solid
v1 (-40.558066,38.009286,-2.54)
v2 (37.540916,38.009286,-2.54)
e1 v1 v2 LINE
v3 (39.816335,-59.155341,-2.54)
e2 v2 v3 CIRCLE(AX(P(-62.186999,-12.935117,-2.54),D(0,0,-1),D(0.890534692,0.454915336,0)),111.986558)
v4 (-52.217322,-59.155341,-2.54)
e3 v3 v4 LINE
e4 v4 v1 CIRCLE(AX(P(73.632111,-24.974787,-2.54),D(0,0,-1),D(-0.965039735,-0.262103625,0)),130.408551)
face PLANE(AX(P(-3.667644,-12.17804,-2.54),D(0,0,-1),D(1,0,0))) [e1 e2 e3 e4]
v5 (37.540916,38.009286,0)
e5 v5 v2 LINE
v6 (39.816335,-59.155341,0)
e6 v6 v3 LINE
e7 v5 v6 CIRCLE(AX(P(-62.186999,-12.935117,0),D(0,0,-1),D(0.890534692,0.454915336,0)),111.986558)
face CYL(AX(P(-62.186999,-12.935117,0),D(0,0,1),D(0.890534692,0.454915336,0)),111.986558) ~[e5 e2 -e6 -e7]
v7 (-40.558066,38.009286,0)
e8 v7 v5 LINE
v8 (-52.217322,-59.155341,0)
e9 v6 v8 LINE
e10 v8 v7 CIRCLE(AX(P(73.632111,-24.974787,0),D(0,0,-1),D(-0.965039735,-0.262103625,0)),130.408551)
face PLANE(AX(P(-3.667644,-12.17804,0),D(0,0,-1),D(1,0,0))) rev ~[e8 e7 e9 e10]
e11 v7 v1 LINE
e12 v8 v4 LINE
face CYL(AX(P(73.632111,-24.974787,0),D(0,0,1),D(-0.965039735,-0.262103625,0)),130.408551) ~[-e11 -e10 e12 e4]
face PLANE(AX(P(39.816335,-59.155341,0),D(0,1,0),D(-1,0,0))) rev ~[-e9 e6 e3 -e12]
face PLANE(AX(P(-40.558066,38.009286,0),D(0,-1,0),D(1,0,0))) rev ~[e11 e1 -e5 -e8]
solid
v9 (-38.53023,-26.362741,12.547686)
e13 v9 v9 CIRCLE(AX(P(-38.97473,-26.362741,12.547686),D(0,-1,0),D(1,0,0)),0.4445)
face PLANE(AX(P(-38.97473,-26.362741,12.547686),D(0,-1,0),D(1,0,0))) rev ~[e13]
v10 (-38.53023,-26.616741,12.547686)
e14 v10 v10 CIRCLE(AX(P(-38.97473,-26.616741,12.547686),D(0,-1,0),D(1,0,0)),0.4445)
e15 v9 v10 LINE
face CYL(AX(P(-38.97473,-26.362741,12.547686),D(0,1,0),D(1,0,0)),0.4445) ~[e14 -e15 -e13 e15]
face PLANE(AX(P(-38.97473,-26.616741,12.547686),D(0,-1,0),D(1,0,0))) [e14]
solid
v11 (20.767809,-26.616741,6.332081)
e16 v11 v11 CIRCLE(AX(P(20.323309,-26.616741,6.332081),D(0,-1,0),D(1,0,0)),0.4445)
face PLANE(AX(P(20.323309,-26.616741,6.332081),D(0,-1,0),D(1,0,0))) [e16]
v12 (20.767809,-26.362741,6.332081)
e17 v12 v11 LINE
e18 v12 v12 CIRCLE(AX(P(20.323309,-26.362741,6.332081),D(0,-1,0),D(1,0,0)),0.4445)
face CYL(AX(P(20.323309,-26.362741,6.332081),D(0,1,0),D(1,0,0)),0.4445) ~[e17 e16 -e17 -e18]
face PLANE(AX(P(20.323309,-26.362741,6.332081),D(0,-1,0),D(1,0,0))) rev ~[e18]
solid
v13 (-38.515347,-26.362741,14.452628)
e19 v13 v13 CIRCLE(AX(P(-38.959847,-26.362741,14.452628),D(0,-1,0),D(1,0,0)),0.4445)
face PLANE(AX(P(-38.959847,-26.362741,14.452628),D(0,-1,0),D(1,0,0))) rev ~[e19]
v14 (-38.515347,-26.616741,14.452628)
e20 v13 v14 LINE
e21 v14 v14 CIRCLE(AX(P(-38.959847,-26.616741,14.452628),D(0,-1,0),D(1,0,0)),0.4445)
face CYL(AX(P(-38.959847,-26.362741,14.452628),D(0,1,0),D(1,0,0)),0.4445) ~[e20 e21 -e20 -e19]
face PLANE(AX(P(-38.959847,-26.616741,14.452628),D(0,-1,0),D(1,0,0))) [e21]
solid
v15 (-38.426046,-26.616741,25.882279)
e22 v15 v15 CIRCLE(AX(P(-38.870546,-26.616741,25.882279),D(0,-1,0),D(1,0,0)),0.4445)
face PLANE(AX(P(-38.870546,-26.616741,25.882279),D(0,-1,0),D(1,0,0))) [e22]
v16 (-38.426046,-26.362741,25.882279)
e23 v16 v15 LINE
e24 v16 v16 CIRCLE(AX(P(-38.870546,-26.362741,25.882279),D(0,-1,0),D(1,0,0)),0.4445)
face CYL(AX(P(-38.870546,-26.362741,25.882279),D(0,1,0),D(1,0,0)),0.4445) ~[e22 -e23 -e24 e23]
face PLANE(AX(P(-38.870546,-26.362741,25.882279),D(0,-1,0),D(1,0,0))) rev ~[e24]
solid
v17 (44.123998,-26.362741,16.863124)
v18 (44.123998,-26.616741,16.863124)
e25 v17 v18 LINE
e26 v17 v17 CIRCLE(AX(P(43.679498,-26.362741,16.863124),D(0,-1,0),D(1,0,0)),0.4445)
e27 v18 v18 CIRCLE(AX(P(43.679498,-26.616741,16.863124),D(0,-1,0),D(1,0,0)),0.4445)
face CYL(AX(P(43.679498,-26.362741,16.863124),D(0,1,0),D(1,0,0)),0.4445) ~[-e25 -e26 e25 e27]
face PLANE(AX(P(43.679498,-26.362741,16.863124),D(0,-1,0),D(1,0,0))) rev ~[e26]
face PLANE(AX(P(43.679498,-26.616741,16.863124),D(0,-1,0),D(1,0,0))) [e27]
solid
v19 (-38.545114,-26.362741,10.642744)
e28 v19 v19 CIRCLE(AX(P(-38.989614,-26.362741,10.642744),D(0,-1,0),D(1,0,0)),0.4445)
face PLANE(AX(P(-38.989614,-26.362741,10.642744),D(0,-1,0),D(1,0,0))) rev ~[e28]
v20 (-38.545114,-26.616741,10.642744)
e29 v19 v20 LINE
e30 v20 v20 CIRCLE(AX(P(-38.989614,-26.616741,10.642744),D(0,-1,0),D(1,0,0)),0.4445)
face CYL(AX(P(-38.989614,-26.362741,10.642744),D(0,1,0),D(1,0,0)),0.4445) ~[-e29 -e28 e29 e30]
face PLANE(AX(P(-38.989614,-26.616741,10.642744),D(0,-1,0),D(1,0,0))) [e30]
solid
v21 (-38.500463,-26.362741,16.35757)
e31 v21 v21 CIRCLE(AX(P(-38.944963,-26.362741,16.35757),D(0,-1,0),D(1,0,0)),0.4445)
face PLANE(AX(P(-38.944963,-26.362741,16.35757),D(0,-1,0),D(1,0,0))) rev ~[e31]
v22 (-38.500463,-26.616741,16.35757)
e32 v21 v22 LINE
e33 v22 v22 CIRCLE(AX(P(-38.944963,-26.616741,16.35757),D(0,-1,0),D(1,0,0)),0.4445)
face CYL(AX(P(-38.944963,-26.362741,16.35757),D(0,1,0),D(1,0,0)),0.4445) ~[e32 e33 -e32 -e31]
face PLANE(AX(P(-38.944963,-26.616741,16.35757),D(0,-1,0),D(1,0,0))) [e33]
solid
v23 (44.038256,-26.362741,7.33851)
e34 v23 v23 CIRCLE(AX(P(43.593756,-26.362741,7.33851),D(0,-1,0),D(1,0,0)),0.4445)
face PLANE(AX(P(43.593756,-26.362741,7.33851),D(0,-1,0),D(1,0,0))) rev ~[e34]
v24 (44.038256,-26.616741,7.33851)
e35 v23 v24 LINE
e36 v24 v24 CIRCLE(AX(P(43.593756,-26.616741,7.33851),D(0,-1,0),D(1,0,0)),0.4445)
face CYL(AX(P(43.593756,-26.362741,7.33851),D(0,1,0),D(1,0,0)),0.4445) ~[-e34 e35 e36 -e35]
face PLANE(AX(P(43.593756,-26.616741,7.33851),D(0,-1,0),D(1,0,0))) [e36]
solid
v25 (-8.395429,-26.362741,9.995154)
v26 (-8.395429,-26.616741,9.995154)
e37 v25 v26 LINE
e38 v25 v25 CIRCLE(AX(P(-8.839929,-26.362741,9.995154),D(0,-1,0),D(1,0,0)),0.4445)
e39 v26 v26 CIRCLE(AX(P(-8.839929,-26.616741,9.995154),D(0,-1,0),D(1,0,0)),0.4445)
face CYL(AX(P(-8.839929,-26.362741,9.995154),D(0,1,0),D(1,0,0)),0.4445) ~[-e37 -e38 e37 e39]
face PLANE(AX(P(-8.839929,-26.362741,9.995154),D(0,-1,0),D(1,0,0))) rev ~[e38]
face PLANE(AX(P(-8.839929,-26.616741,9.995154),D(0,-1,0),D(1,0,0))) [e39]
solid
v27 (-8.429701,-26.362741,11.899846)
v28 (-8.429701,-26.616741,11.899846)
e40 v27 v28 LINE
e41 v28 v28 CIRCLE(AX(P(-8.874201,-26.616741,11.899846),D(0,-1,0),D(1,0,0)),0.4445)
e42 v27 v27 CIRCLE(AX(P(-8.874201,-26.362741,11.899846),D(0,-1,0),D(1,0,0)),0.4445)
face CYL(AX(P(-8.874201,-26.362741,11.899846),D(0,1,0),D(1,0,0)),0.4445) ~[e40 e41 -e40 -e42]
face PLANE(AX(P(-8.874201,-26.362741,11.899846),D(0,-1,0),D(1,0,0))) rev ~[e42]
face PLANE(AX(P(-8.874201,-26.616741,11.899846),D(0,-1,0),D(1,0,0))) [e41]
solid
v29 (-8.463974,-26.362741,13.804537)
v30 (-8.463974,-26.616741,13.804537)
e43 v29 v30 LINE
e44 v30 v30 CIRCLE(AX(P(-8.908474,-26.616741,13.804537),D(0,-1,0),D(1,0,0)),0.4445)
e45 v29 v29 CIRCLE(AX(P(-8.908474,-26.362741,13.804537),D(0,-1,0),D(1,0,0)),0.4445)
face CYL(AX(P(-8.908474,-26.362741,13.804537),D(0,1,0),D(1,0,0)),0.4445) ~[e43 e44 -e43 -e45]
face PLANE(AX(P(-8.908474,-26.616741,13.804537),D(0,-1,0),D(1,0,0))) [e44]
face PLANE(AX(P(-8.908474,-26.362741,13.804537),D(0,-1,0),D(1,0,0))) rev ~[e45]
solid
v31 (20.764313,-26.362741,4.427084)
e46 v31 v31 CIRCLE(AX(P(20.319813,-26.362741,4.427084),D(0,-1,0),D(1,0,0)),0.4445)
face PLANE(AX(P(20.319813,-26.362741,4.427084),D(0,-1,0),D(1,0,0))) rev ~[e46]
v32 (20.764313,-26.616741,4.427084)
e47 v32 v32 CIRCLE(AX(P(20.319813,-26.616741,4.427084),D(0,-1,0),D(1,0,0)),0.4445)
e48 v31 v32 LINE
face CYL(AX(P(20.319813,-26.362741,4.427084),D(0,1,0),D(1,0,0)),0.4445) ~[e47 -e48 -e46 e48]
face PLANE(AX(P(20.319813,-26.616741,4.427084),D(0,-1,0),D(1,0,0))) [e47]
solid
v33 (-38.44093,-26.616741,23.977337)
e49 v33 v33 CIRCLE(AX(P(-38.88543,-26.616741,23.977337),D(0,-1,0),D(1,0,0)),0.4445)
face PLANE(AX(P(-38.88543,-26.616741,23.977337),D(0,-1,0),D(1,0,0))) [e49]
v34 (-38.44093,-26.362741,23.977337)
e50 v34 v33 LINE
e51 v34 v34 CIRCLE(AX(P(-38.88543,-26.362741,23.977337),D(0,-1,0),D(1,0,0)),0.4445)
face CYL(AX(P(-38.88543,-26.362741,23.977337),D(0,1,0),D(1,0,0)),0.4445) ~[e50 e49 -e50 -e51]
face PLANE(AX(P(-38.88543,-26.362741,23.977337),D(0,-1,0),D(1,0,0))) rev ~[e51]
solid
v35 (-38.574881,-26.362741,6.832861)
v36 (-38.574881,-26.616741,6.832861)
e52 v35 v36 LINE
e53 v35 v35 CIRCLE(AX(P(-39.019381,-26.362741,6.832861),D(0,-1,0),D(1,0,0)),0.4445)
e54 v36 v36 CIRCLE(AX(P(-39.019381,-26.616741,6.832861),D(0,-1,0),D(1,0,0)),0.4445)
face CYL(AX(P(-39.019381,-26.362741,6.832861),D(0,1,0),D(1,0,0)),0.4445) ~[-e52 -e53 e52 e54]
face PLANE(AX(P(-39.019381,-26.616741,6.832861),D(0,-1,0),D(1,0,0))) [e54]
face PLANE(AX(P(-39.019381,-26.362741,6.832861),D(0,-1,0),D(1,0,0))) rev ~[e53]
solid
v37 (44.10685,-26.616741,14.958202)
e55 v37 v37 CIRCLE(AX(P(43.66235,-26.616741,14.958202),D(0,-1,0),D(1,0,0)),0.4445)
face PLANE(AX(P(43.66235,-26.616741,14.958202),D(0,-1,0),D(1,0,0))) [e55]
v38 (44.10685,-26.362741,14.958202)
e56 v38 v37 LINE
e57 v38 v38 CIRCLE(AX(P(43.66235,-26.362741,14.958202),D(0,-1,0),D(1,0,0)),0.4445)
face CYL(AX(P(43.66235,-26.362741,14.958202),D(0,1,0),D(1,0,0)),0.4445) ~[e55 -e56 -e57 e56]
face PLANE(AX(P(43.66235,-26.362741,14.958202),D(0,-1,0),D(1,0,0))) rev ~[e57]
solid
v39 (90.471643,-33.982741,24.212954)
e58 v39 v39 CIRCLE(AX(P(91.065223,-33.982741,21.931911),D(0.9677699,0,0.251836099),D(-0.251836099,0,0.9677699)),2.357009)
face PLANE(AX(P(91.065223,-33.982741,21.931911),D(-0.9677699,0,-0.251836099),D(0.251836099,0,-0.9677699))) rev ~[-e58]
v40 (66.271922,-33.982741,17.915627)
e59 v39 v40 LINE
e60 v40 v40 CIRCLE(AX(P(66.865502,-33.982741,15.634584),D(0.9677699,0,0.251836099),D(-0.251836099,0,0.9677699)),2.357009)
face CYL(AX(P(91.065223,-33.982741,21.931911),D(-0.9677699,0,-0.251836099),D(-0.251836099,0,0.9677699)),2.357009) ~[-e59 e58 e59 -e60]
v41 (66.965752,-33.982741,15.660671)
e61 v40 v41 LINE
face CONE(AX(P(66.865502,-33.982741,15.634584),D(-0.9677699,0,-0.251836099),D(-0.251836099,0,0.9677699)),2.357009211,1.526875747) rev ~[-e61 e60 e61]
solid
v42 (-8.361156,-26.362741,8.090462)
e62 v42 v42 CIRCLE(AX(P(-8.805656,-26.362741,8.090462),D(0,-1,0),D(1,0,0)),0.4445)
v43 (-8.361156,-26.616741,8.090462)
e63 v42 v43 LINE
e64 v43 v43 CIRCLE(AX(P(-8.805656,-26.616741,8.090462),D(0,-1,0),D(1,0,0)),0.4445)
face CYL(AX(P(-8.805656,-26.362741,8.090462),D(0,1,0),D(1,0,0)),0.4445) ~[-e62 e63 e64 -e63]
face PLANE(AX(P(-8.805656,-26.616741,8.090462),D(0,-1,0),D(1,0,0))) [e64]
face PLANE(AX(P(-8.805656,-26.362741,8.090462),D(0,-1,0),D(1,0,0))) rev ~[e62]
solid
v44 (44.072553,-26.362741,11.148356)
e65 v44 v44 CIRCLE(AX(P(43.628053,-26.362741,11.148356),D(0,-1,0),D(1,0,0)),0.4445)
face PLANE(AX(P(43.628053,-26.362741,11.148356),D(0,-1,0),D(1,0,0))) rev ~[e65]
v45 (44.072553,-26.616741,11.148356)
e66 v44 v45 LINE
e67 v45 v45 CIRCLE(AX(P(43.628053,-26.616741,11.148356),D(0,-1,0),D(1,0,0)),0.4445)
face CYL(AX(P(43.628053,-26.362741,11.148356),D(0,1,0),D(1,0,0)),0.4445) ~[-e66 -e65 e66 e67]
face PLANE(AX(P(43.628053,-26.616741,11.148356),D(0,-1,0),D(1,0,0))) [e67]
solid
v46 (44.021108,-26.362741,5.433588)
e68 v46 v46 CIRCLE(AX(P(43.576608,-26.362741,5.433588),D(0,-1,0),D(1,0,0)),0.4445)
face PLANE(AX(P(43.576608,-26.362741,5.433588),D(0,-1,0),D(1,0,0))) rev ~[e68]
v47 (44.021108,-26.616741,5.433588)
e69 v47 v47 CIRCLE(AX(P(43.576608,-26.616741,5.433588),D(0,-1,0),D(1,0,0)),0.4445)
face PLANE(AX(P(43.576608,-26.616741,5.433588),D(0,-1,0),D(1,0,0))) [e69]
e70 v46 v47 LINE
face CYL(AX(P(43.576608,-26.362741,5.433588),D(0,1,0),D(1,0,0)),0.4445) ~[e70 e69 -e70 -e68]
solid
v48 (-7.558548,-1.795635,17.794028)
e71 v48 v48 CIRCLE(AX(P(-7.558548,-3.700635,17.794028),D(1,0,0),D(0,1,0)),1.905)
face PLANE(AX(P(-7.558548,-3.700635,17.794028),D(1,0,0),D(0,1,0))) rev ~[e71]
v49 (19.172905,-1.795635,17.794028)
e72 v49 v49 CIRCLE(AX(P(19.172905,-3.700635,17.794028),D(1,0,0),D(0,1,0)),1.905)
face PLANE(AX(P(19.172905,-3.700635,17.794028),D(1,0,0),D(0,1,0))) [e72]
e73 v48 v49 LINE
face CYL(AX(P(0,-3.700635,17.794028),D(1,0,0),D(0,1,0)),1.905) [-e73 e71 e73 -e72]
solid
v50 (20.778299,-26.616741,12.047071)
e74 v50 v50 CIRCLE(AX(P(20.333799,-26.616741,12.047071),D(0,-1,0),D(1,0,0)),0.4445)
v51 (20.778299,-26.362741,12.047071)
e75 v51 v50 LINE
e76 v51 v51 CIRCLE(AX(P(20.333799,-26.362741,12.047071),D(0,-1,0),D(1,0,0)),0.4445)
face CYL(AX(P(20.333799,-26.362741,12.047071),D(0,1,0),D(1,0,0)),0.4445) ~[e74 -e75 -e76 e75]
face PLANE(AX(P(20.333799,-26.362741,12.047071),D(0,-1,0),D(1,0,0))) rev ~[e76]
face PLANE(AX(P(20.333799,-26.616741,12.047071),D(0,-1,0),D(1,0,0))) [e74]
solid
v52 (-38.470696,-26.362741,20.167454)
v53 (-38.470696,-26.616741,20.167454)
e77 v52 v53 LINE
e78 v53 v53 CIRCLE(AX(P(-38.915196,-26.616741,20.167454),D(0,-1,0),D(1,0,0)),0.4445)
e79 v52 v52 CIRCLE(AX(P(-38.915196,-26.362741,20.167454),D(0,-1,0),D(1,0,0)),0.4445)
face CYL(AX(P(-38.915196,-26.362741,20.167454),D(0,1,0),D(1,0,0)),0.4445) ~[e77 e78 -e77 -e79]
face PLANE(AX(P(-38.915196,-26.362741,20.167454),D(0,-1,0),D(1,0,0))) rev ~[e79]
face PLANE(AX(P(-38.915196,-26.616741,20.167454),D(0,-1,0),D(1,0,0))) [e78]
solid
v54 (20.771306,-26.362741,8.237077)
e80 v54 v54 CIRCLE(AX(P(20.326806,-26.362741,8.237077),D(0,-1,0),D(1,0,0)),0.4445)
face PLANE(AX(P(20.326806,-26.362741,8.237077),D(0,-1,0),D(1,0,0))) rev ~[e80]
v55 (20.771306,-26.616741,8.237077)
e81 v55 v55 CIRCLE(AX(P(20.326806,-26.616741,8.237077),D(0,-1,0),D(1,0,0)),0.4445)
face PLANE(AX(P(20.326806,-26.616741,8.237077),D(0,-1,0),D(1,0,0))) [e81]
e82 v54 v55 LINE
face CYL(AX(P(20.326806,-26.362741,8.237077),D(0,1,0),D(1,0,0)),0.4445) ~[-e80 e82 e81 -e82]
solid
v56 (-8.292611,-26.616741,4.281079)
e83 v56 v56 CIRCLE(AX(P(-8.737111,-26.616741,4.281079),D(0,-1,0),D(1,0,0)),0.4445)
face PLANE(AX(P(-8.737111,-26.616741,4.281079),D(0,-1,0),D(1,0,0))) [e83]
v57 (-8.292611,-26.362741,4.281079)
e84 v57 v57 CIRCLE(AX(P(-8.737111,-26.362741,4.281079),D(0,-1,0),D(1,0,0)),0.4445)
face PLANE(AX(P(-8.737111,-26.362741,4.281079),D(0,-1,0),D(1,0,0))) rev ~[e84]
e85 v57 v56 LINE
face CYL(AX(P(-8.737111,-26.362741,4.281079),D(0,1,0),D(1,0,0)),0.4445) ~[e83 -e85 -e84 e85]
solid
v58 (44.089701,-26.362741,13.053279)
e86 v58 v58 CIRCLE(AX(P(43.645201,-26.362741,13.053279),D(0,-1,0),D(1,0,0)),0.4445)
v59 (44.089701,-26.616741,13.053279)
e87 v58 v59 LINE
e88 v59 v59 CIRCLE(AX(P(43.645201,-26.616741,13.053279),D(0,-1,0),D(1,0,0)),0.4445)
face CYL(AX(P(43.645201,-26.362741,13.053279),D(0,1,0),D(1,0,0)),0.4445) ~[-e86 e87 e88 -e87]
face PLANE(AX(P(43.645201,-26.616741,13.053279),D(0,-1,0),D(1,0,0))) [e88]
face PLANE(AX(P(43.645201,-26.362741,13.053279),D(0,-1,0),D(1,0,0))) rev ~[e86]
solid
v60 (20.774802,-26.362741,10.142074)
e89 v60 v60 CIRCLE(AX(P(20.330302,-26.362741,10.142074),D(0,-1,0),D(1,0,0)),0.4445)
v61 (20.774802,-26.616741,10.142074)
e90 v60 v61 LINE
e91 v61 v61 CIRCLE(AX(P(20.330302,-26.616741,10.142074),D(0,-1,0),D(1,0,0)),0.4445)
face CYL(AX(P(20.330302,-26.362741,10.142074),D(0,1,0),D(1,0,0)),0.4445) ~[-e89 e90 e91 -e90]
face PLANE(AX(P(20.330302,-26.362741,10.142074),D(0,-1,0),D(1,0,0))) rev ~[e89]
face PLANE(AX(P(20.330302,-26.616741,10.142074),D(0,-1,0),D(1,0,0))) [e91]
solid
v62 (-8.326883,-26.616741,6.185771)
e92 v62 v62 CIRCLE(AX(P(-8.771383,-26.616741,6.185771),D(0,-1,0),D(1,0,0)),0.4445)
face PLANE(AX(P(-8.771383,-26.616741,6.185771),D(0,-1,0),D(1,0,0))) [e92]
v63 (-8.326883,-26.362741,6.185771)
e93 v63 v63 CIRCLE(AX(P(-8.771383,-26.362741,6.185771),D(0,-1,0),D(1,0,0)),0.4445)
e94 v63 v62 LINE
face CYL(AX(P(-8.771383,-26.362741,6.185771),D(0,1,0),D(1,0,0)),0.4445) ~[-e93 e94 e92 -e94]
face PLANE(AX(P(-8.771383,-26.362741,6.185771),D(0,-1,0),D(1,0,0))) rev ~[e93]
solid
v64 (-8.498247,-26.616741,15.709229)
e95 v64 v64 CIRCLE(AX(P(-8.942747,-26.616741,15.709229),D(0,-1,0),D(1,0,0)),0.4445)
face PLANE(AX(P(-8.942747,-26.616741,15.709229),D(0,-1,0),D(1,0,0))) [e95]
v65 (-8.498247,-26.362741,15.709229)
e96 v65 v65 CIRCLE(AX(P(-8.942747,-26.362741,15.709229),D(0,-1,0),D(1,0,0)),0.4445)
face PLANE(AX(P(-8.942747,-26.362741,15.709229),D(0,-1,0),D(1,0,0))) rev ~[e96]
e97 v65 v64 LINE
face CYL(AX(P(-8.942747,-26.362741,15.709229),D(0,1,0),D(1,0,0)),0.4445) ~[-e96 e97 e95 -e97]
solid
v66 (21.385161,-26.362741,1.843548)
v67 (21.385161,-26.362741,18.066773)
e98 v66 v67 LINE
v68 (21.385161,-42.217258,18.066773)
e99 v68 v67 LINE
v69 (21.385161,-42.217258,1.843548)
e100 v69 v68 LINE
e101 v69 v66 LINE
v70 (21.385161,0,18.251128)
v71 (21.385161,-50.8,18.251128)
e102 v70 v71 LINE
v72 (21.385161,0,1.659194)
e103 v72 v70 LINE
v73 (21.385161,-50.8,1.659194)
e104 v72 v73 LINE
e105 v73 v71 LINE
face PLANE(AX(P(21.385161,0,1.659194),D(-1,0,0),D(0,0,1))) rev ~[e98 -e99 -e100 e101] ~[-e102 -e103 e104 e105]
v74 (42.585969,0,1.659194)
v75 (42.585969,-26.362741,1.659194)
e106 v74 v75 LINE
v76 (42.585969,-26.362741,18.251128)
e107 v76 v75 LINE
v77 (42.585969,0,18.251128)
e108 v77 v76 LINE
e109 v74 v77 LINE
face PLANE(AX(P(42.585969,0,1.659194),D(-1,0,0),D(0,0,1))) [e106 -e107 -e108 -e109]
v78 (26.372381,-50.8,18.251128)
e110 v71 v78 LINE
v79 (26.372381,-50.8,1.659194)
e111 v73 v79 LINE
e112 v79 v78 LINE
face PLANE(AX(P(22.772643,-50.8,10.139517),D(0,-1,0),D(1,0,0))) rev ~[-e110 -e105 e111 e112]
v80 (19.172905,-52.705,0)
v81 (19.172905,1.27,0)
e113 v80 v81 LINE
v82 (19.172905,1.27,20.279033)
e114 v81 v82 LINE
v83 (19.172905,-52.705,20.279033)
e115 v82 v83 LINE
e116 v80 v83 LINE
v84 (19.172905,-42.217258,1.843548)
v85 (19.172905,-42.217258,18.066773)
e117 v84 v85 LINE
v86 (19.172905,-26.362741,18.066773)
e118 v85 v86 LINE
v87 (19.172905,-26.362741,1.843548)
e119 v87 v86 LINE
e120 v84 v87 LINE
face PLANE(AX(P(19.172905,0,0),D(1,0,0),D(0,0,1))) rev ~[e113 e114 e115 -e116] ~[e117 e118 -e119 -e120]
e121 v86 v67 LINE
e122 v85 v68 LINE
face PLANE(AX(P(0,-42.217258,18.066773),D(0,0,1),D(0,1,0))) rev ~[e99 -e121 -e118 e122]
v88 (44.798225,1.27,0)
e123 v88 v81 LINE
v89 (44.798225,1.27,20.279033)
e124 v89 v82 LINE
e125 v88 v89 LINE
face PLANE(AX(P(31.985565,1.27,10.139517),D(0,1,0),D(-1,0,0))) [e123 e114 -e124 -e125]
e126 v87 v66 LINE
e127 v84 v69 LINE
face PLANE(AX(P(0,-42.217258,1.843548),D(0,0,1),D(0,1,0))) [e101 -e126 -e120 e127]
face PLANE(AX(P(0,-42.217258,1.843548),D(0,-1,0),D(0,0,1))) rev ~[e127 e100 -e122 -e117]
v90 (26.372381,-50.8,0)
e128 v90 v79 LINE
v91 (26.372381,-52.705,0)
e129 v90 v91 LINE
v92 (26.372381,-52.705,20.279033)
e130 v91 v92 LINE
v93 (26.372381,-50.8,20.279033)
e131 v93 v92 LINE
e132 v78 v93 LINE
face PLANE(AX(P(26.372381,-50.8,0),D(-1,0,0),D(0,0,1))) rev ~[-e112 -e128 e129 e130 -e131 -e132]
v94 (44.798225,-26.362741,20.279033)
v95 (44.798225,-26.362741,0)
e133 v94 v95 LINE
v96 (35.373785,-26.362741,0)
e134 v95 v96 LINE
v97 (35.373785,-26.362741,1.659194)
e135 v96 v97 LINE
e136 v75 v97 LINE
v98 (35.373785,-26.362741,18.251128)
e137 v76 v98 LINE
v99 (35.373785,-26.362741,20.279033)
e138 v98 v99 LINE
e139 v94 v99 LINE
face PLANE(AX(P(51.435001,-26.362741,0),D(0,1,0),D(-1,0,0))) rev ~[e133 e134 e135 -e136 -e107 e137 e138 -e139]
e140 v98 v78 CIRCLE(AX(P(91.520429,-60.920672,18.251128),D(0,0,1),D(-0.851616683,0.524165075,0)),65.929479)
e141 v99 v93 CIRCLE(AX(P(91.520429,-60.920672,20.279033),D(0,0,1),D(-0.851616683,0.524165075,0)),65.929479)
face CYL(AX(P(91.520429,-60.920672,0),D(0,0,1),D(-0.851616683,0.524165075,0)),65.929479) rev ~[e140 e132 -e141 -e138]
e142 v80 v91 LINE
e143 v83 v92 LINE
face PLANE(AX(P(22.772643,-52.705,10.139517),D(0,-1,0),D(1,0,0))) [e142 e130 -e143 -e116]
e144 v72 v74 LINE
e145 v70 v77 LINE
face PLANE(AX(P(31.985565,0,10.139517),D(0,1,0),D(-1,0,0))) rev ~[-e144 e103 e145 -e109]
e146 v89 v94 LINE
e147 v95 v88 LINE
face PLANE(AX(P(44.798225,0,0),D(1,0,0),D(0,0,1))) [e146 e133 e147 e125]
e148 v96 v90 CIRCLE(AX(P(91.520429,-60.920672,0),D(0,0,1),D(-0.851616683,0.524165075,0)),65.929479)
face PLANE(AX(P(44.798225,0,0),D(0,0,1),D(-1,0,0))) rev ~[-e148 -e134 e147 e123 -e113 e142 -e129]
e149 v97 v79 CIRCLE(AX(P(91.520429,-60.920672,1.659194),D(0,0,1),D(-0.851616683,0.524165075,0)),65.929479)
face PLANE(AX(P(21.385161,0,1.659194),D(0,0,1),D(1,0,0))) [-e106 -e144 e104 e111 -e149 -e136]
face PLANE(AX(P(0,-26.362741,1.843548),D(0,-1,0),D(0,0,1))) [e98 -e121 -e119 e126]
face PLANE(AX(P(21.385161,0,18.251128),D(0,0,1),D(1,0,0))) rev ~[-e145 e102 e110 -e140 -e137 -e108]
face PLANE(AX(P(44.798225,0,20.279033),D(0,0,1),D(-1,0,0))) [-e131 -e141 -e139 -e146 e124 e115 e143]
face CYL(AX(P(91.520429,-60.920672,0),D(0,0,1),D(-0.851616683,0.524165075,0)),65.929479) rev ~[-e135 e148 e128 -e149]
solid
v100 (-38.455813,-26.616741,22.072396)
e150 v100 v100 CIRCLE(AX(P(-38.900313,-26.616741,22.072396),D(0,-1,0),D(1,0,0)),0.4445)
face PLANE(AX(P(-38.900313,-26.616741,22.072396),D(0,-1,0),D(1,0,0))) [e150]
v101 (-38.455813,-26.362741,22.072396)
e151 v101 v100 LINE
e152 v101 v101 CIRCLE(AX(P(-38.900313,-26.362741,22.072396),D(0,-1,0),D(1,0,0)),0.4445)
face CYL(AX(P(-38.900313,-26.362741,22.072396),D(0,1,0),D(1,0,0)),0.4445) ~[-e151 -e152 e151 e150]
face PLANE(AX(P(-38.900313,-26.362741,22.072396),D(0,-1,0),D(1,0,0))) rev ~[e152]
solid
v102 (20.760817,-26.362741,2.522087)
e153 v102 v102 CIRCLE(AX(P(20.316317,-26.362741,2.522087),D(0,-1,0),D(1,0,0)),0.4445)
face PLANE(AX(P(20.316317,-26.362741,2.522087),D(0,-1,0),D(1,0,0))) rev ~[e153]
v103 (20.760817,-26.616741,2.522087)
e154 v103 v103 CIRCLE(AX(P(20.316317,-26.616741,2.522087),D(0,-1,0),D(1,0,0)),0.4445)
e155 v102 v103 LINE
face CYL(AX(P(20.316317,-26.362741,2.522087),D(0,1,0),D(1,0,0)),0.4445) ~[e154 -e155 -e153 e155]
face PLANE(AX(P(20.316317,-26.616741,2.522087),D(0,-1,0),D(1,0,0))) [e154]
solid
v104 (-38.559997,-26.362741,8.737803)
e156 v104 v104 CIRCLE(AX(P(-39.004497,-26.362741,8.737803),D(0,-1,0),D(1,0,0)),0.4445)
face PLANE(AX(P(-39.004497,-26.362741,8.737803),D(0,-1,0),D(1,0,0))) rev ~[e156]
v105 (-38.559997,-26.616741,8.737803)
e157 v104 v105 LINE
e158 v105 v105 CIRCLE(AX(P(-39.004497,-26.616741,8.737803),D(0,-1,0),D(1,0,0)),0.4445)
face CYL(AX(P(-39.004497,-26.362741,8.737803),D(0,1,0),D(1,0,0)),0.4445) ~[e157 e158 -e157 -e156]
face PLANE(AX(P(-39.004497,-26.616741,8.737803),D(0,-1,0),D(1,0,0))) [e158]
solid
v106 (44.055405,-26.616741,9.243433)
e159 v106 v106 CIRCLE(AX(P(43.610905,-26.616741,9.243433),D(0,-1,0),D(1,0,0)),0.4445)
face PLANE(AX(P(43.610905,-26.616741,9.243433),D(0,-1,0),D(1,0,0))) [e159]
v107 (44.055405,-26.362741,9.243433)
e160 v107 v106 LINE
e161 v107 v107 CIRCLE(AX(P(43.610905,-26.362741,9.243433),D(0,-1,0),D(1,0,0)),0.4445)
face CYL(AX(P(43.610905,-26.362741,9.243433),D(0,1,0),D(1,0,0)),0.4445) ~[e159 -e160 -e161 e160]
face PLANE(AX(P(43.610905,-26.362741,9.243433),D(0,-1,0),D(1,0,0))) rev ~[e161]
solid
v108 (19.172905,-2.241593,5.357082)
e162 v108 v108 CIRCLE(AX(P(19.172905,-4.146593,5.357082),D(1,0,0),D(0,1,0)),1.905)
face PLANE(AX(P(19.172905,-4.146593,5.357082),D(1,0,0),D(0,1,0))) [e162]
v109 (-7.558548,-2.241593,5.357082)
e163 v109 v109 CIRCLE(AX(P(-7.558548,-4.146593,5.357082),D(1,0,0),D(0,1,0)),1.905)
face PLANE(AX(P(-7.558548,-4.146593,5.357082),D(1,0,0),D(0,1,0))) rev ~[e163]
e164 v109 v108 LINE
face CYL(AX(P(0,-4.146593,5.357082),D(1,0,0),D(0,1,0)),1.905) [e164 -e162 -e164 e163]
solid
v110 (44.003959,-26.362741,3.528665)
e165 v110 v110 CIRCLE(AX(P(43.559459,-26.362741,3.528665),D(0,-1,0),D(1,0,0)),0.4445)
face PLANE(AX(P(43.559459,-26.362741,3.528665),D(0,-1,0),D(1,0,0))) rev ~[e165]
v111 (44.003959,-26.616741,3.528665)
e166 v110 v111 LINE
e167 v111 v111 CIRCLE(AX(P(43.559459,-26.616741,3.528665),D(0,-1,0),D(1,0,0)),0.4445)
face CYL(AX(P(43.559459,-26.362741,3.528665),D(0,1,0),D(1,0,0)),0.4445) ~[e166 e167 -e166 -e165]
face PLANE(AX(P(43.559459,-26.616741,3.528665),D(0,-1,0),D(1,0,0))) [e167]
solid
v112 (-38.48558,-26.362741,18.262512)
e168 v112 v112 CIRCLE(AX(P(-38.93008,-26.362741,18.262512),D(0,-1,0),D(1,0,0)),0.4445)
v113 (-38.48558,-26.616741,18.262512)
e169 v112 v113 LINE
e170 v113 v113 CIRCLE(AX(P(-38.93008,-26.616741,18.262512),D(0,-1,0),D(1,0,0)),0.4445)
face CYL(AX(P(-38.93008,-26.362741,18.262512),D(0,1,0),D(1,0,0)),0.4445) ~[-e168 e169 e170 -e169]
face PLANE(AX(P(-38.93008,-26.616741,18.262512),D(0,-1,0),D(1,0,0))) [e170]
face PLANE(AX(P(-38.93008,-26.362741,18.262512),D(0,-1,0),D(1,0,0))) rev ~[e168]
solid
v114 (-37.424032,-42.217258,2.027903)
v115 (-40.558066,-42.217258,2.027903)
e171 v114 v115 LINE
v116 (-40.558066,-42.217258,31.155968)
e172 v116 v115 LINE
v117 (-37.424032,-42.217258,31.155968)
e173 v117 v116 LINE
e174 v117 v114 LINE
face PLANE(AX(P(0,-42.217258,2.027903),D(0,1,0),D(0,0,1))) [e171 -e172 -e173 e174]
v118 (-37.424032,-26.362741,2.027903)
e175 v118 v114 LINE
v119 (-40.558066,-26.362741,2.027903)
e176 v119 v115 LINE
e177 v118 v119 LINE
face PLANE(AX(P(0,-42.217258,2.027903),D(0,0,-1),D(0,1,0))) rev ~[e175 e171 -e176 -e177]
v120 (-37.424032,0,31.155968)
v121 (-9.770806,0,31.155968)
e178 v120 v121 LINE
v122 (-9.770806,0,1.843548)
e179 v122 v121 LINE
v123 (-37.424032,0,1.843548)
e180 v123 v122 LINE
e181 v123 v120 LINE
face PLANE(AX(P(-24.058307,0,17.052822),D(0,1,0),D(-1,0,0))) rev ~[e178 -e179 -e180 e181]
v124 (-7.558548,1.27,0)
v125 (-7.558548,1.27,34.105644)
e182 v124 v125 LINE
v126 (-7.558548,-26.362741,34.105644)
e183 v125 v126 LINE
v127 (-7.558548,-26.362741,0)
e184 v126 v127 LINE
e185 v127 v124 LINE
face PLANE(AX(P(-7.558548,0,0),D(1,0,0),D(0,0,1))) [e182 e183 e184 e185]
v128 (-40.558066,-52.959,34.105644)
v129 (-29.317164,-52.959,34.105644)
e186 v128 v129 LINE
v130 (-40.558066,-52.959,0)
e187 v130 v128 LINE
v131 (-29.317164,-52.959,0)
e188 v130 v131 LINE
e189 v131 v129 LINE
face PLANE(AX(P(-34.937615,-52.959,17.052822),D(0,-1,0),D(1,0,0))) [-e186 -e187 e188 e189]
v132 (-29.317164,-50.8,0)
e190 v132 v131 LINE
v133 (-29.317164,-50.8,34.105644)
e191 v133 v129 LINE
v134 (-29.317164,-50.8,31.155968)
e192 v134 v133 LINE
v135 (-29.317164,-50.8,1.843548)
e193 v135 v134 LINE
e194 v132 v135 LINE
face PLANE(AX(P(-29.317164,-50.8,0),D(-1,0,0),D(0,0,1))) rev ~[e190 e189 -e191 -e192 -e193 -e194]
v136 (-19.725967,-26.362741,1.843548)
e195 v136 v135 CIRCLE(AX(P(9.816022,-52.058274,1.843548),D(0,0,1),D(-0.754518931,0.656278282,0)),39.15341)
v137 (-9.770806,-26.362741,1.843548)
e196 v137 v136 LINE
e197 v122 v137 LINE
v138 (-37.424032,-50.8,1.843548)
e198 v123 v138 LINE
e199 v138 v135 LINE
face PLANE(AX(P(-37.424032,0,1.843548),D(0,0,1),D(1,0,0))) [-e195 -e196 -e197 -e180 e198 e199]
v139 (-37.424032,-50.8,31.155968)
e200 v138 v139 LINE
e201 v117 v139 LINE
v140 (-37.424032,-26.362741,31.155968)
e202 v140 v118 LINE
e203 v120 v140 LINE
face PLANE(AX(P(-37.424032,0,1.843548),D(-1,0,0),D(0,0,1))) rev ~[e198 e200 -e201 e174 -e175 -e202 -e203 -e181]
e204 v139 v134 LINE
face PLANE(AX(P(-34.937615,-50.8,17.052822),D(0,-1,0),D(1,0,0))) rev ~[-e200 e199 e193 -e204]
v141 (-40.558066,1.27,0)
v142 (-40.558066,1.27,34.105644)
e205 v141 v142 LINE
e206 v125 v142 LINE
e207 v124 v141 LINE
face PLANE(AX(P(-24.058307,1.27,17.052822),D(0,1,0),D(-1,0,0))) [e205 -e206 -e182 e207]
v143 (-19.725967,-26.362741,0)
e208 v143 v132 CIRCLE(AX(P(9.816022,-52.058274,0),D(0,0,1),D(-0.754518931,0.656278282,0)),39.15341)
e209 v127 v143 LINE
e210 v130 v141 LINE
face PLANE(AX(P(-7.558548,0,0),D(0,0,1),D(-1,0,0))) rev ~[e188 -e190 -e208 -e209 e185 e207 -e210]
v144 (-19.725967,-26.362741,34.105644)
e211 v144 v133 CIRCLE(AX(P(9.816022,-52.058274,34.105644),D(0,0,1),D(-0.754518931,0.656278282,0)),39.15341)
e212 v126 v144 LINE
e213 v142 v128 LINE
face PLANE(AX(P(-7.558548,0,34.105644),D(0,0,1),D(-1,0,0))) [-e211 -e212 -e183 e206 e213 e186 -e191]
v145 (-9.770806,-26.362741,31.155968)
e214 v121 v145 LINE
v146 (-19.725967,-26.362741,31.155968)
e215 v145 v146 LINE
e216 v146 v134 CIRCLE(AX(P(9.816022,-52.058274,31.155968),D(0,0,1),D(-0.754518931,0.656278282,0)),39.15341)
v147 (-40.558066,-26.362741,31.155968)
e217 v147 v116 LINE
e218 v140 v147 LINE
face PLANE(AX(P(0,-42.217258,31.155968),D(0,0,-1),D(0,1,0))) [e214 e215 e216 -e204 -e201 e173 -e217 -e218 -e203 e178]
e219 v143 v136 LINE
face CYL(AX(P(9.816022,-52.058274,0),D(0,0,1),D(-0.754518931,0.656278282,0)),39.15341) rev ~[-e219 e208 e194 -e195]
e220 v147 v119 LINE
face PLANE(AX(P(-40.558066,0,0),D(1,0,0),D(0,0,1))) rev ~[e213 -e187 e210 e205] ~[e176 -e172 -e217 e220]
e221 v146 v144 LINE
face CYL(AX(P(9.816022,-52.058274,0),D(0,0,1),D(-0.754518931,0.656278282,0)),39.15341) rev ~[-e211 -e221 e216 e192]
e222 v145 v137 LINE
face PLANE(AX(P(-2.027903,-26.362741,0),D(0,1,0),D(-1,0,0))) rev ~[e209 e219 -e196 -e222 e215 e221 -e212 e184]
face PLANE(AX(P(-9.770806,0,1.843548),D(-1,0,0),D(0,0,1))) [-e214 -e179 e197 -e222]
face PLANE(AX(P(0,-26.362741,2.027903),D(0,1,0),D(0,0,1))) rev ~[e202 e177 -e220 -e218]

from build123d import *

# Parameters (mm, degrees)
F0_W          = 32.9995178618
F0_H          = 34.10564363
F0_W_2        = 27.6532256976
F0_H_2        = 29.3124195887
F1_DEPTH      = 50.8
F0_W_3        = 25.6253201514
F0_H_3        = 20.2790331095
F0_W_4        = 21.2008077651
F0_H_4        = 16.5919348365
F2_R          = 1.905
F3_DEPTH      = 19.172905013
F3_DEPTH_BACK = 7.5585483573
F5_DEPTH      = 101.6
F5_DEPTH_BACK = 25.4
F6_W          = 15.8545169979
F6_H          = 16.2232246948
F7_DEPTH      = 101.6
F8_W          = 15.8545169979
F8_H          = 29.1280648671
F9_DEPTH      = 76.2
F10_R         = 0.4445
F11_DEPTH     = 0.254
F12_R         = 0.4445
F13_DEPTH     = 0.254
F14_R         = 0.4445
F15_DEPTH     = 0.254
F16_R         = 0.4445
F17_DEPTH     = 0.254
F18_W         = 11.2409019681
F18_H         = 34.10564363
F19_DEPTH     = 2.159
F20_W         = 7.1994758941
F20_H         = 20.2790331095
F21_DEPTH     = 1.905
F25_W         = 32.9995178618
F25_H         = 34.10564363
F26_DEPTH     = 1.27
F27_W         = 25.6253201514
F27_H         = 20.2790331095
F28_DEPTH     = 1.27
F30_DEPTH     = 2.54


with BuildPart() as f1:
    # F0 (on Front) → F1 (new body)
    with BuildSketch(Plane.XZ):
        with Locations((-24.0583072882, 17.052821815)):
            Rectangle(F0_W, F0_H)
        with Locations((-23.5974187963, 16.4997582906)):
            Rectangle(F0_W_2, F0_H_2, mode=Mode.SUBTRACT)
    extrude(amount=F1_DEPTH)


with BuildPart() as f1b:
    # F0 (on Front) → F1, piece 2 (new body)
    with BuildSketch(Plane.XZ):
        with Locations((31.9855650887, 10.1395165548)):
            Rectangle(F0_W_3, F0_H_3)
        with Locations((31.9855650887, 9.9551610765)):
            Rectangle(F0_W_4, F0_H_4, mode=Mode.SUBTRACT)
    extrude(amount=F1_DEPTH)


with BuildPart() as f3:
    # F2 (on Right) → F3 (new body, two sides)
    with BuildSketch(Plane.YZ) as f3_sk:
        with Locations((-3.7006346975, 17.7940279245)):
            Circle(F2_R)
    extrude(amount=F3_DEPTH)
    extrude(f3_sk.sketch, amount=-F3_DEPTH_BACK)


with BuildPart() as f3b:
    # F2 (on Right) → F3, piece 2 (new body, two sides)
    with BuildSketch(Plane.YZ) as f3_2_sk:
        with Locations((-4.1465931572, 5.3570820019)):
            Circle(F2_R)
    extrude(amount=F3_DEPTH)
    extrude(f3_2_sk.sketch, amount=-F3_DEPTH_BACK)


with BuildPart() as f5_tool:
    # F4 (on Top) → F5 (new body, two sides)
    with BuildSketch(Plane.XY) as f5_sk:
        with BuildLine():
            Line((51.4350011945, -26.362741366), (35.3737850889, -26.362741366))
            ThreePointArc((35.3737850889, -26.362741366), (27.8021113419, -43.989275966), (25.6253238767, -63.0493536592))
            Line((25.6253238767, -63.0493536592), (51.4350011945, -63.0493536592))
            Line((51.4350011945, -63.0493536592), (51.4350011945, -26.362741366))
        make_face()
        with BuildLine():
            Line((-2.027902985, -26.362741366), (-19.7259671986, -26.362741366))
            ThreePointArc((-19.7259671986, -26.362741366), (-28.4710621219, -43.8675040971), (-27.6532266289, -63.4180679917))
            Line((-27.6532266289, -63.4180679917), (-2.027902985, -63.4180679917))
            Line((-2.027902985, -63.4180679917), (-2.027902985, -26.362741366))
        make_face()
    extrude(amount=F5_DEPTH)
    extrude(f5_sk.sketch, amount=-F5_DEPTH_BACK)


with BuildPart() as f1_1:
    add(f1.part)

    # F5: cut by f5_tool
    add(f5_tool.part, mode=Mode.SUBTRACT)

    # F8 (on Right) → F9 (cut)
    with BuildSketch(Plane.YZ):
        with Locations((-34.289999865, 16.5919356514)):
            Rectangle(F8_W, F8_H)
    extrude(amount=-F9_DEPTH, mode=Mode.SUBTRACT)

    # F18 (on face) → F19 (join)
    with BuildSketch(Plane.XZ.offset(50.8)):
        with Locations((-34.9376152351, 17.052821815)):
            Rectangle(F18_W, F18_H)
    extrude(amount=F19_DEPTH)

    # F25 (on face) → F26 (join)
    with BuildSketch(Plane(origin=(0, 0, 0), x_dir=(-1, 0, 0), z_dir=(0, 1, 0))):
        with Locations((24.0583072882, 17.052821815)):
            Rectangle(F25_W, F25_H)
    extrude(amount=F26_DEPTH)


with BuildPart() as f1b_1:
    add(f1b.part)

    # F5: cut by f5_tool
    add(f5_tool.part, mode=Mode.SUBTRACT)

    # F6 (on Right) → F7 (cut)
    with BuildSketch(Plane.YZ):
        with Locations((-34.289999865, 9.9551608437)):
            Rectangle(F6_W, F6_H)
    extrude(amount=F7_DEPTH, mode=Mode.SUBTRACT)

    # F20 (on face) → F21 (join)
    with BuildSketch(Plane.XZ.offset(50.8)):
        with Locations((22.77264296, 10.1395165548)):
            Rectangle(F20_W, F20_H)
    extrude(amount=F21_DEPTH)

    # F27 (on face) → F28 (join)
    with BuildSketch(Plane(origin=(0, 0, 0), x_dir=(-1, 0, 0), z_dir=(0, 1, 0))):
        with Locations((-31.9855650887, 10.1395165548)):
            Rectangle(F27_W, F27_H)
    extrude(amount=F28_DEPTH)


with BuildPart() as f11:
    # F10 (on face) → F11 (new body)
    with BuildSketch(Plane.XZ.offset(26.362741366)):
        with Locations((-8.9427465631, 15.7092289209)):
            Circle(F10_R)
    extrude(amount=F11_DEPTH)


with BuildPart() as f11b:
    # F10 (on face) → F11, piece 2 (new body)
    with BuildSketch(Plane.XZ.offset(26.362741366)):
        with Locations((-8.9084738865, 13.8045372441)):
            Circle(F10_R)
    extrude(amount=F11_DEPTH)


with BuildPart() as f11c:
    # F10 (on face) → F11, piece 3 (new body)
    with BuildSketch(Plane.XZ.offset(26.362741366)):
        with Locations((-8.87420121, 11.8998455673)):
            Circle(F10_R)
    extrude(amount=F11_DEPTH)


with BuildPart() as f11d:
    # F10 (on face) → F11, piece 4 (new body)
    with BuildSketch(Plane.XZ.offset(26.362741366)):
        with Locations((-8.8399285334, 9.9951538906)):
            Circle(F10_R)
    extrude(amount=F11_DEPTH)


with BuildPart() as f11e:
    # F10 (on face) → F11, piece 5 (new body)
    with BuildSketch(Plane.XZ.offset(26.362741366)):
        with Locations((-8.8056558568, 8.0904622138)):
            Circle(F10_R)
    extrude(amount=F11_DEPTH)


with BuildPart() as f11f:
    # F10 (on face) → F11, piece 6 (new body)
    with BuildSketch(Plane.XZ.offset(26.362741366)):
        with Locations((-8.7713831802, 6.185770537)):
            Circle(F10_R)
    extrude(amount=F11_DEPTH)


with BuildPart() as f11g:
    # F10 (on face) → F11, piece 7 (new body)
    with BuildSketch(Plane.XZ.offset(26.362741366)):
        with Locations((-8.7371105036, 4.2810788602)):
            Circle(F10_R)
    extrude(amount=F11_DEPTH)


with BuildPart() as f13:
    # F12 (on face) → F13 (new body)
    with BuildSketch(Plane.XZ.offset(26.362741366)):
        with Locations((-38.8705460239, 25.882279263)):
            Circle(F12_R)
    extrude(amount=F13_DEPTH)


with BuildPart() as f13b:
    # F12 (on face) → F13, piece 2 (new body)
    with BuildSketch(Plane.XZ.offset(26.362741366)):
        with Locations((-38.8854295015, 23.9773374051)):
            Circle(F12_R)
    extrude(amount=F13_DEPTH)


with BuildPart() as f13c:
    # F12 (on face) → F13, piece 3 (new body)
    with BuildSketch(Plane.XZ.offset(26.362741366)):
        with Locations((-38.9003129792, 22.0723955472)):
            Circle(F12_R)
    extrude(amount=F13_DEPTH)


with BuildPart() as f13d:
    # F12 (on face) → F13, piece 4 (new body)
    with BuildSketch(Plane.XZ.offset(26.362741366)):
        with Locations((-38.9151964569, 20.1674536892)):
            Circle(F12_R)
    extrude(amount=F13_DEPTH)


with BuildPart() as f13e:
    # F12 (on face) → F13, piece 5 (new body)
    with BuildSketch(Plane.XZ.offset(26.362741366)):
        with Locations((-38.9300799345, 18.2625118313)):
            Circle(F12_R)
    extrude(amount=F13_DEPTH)


with BuildPart() as f13f:
    # F12 (on face) → F13, piece 6 (new body)
    with BuildSketch(Plane.XZ.offset(26.362741366)):
        with Locations((-38.9449634122, 16.3575699734)):
            Circle(F12_R)
    extrude(amount=F13_DEPTH)


with BuildPart() as f13g:
    # F12 (on face) → F13, piece 7 (new body)
    with BuildSketch(Plane.XZ.offset(26.362741366)):
        with Locations((-38.9598468898, 14.4526281154)):
            Circle(F12_R)
    extrude(amount=F13_DEPTH)


with BuildPart() as f13h:
    # F12 (on face) → F13, piece 8 (new body)
    with BuildSketch(Plane.XZ.offset(26.362741366)):
        with Locations((-38.9747303675, 12.5476862575)):
            Circle(F12_R)
    extrude(amount=F13_DEPTH)


with BuildPart() as f13i:
    # F12 (on face) → F13, piece 9 (new body)
    with BuildSketch(Plane.XZ.offset(26.362741366)):
        with Locations((-38.9896138451, 10.6427443996)):
            Circle(F12_R)
    extrude(amount=F13_DEPTH)


with BuildPart() as f13j:
    # F12 (on face) → F13, piece 10 (new body)
    with BuildSketch(Plane.XZ.offset(26.362741366)):
        with Locations((-39.0044973228, 8.7378025416)):
            Circle(F12_R)
    extrude(amount=F13_DEPTH)


with BuildPart() as f13k:
    # F12 (on face) → F13, piece 11 (new body)
    with BuildSketch(Plane.XZ.offset(26.362741366)):
        with Locations((-39.0193808005, 6.8328606837)):
            Circle(F12_R)
    extrude(amount=F13_DEPTH)


with BuildPart() as f15:
    # F14 (on face) → F15 (new body)
    with BuildSketch(Plane.XZ.offset(26.362741366)):
        with Locations((20.3337986022, 12.0470710099)):
            Circle(F14_R)
    extrude(amount=F15_DEPTH)


with BuildPart() as f15b:
    # F14 (on face) → F15, piece 2 (new body)
    with BuildSketch(Plane.XZ.offset(26.362741366)):
        with Locations((20.3303022122, 10.1420742185)):
            Circle(F14_R)
    extrude(amount=F15_DEPTH)


with BuildPart() as f15c:
    # F14 (on face) → F15, piece 3 (new body)
    with BuildSketch(Plane.XZ.offset(26.362741366)):
        with Locations((20.3268058222, 8.2370774271)):
            Circle(F14_R)
    extrude(amount=F15_DEPTH)


with BuildPart() as f15d:
    # F14 (on face) → F15, piece 4 (new body)
    with BuildSketch(Plane.XZ.offset(26.362741366)):
        with Locations((20.3233094322, 6.3320806357)):
            Circle(F14_R)
    extrude(amount=F15_DEPTH)


with BuildPart() as f15e:
    # F14 (on face) → F15, piece 5 (new body)
    with BuildSketch(Plane.XZ.offset(26.362741366)):
        with Locations((20.3198130422, 4.4270838443)):
            Circle(F14_R)
    extrude(amount=F15_DEPTH)


with BuildPart() as f15f:
    # F14 (on face) → F15, piece 6 (new body)
    with BuildSketch(Plane.XZ.offset(26.362741366)):
        with Locations((20.3163166522, 2.5220870529)):
            Circle(F14_R)
    extrude(amount=F15_DEPTH)


with BuildPart() as f17:
    # F16 (on face) → F17 (new body)
    with BuildSketch(Plane.XZ.offset(26.362741366)):
        with Locations((43.679498136, 16.8631244451)):
            Circle(F16_R)
    extrude(amount=F17_DEPTH)


with BuildPart() as f17b:
    # F16 (on face) → F17, piece 2 (new body)
    with BuildSketch(Plane.XZ.offset(26.362741366)):
        with Locations((43.6623497552, 14.9582016296)):
            Circle(F16_R)
    extrude(amount=F17_DEPTH)


with BuildPart() as f17c:
    # F16 (on face) → F17, piece 3 (new body)
    with BuildSketch(Plane.XZ.offset(26.362741366)):
        with Locations((43.6452013743, 13.0532788141)):
            Circle(F16_R)
    extrude(amount=F17_DEPTH)


with BuildPart() as f17d:
    # F16 (on face) → F17, piece 4 (new body)
    with BuildSketch(Plane.XZ.offset(26.362741366)):
        with Locations((43.6280529935, 11.1483559986)):
            Circle(F16_R)
    extrude(amount=F17_DEPTH)


with BuildPart() as f17e:
    # F16 (on face) → F17, piece 5 (new body)
    with BuildSketch(Plane.XZ.offset(26.362741366)):
        with Locations((43.6109046126, 9.2434331831)):
            Circle(F16_R)
    extrude(amount=F17_DEPTH)


with BuildPart() as f17f:
    # F16 (on face) → F17, piece 6 (new body)
    with BuildSketch(Plane.XZ.offset(26.362741366)):
        with Locations((43.5937562318, 7.3385103676)):
            Circle(F16_R)
    extrude(amount=F17_DEPTH)


with BuildPart() as f17g:
    # F16 (on face) → F17, piece 7 (new body)
    with BuildSketch(Plane.XZ.offset(26.362741366)):
        with Locations((43.5766078509, 5.433587552)):
            Circle(F16_R)
    extrude(amount=F17_DEPTH)


with BuildPart() as f17h:
    # F16 (on face) → F17, piece 8 (new body)
    with BuildSketch(Plane.XZ.offset(26.362741366)):
        with Locations((43.5594594701, 3.5286647365)):
            Circle(F16_R)
    extrude(amount=F17_DEPTH)


with BuildPart() as f24:
    # F23 (on offset) → F24 (revolve)
    with BuildSketch(Plane.XZ.offset(33.982741366)):
        Polygon((66.2719224705, 17.9156268467), (66.9657516559, 15.6606714319), (91.0652230978, 21.9319109817), (90.471643093, 24.2129535507), align=None)
    revolve(axis=Axis((79.0154873769, -33.982741366, 18.7962912068), (0.9677699, 0, 0.2518360988)))


with BuildPart() as f30:
    # F29 (on face) → F30 (new body)
    with BuildSketch(Plane(origin=(0, 0, 0), x_dir=(1, 0, 0), z_dir=(0, 0, -1))):
        with BuildLine():
            ThreePointArc((37.5409163535, -38.0092859268), (49.7688647557, 10.3133144659), (39.8163348436, 59.1553412378))
            Line((39.8163348436, 59.1553412378), (-52.2173220198, 59.1553412378))
            ThreePointArc((-52.2173220198, 59.1553412378), (-55.8475971067, 9.4378879241), (-40.5580662191, -38.0092859268))
            Line((-40.5580662191, -38.0092859268), (37.5409163535, -38.0092859268))
        make_face()
    extrude(amount=F30_DEPTH)


solid = Compound([f3.part, f3b.part, f1_1.part, f1b_1.part, f11.part, f11b.part, f11c.part, f11d.part, f11e.part, f11f.part, f11g.part, f13.part, f13b.part, f13c.part, f13d.part, f13e.part, f13f.part, f13g.part, f13h.part, f13i.part, f13j.part, f13k.part, f15.part, f15b.part, f15c.part, f15d.part, f15e.part, f15f.part, f17.part, f17b.part, f17c.part, f17d.part, f17e.part, f17f.part, f17g.part, f17h.part, f24.part, f30.part])
